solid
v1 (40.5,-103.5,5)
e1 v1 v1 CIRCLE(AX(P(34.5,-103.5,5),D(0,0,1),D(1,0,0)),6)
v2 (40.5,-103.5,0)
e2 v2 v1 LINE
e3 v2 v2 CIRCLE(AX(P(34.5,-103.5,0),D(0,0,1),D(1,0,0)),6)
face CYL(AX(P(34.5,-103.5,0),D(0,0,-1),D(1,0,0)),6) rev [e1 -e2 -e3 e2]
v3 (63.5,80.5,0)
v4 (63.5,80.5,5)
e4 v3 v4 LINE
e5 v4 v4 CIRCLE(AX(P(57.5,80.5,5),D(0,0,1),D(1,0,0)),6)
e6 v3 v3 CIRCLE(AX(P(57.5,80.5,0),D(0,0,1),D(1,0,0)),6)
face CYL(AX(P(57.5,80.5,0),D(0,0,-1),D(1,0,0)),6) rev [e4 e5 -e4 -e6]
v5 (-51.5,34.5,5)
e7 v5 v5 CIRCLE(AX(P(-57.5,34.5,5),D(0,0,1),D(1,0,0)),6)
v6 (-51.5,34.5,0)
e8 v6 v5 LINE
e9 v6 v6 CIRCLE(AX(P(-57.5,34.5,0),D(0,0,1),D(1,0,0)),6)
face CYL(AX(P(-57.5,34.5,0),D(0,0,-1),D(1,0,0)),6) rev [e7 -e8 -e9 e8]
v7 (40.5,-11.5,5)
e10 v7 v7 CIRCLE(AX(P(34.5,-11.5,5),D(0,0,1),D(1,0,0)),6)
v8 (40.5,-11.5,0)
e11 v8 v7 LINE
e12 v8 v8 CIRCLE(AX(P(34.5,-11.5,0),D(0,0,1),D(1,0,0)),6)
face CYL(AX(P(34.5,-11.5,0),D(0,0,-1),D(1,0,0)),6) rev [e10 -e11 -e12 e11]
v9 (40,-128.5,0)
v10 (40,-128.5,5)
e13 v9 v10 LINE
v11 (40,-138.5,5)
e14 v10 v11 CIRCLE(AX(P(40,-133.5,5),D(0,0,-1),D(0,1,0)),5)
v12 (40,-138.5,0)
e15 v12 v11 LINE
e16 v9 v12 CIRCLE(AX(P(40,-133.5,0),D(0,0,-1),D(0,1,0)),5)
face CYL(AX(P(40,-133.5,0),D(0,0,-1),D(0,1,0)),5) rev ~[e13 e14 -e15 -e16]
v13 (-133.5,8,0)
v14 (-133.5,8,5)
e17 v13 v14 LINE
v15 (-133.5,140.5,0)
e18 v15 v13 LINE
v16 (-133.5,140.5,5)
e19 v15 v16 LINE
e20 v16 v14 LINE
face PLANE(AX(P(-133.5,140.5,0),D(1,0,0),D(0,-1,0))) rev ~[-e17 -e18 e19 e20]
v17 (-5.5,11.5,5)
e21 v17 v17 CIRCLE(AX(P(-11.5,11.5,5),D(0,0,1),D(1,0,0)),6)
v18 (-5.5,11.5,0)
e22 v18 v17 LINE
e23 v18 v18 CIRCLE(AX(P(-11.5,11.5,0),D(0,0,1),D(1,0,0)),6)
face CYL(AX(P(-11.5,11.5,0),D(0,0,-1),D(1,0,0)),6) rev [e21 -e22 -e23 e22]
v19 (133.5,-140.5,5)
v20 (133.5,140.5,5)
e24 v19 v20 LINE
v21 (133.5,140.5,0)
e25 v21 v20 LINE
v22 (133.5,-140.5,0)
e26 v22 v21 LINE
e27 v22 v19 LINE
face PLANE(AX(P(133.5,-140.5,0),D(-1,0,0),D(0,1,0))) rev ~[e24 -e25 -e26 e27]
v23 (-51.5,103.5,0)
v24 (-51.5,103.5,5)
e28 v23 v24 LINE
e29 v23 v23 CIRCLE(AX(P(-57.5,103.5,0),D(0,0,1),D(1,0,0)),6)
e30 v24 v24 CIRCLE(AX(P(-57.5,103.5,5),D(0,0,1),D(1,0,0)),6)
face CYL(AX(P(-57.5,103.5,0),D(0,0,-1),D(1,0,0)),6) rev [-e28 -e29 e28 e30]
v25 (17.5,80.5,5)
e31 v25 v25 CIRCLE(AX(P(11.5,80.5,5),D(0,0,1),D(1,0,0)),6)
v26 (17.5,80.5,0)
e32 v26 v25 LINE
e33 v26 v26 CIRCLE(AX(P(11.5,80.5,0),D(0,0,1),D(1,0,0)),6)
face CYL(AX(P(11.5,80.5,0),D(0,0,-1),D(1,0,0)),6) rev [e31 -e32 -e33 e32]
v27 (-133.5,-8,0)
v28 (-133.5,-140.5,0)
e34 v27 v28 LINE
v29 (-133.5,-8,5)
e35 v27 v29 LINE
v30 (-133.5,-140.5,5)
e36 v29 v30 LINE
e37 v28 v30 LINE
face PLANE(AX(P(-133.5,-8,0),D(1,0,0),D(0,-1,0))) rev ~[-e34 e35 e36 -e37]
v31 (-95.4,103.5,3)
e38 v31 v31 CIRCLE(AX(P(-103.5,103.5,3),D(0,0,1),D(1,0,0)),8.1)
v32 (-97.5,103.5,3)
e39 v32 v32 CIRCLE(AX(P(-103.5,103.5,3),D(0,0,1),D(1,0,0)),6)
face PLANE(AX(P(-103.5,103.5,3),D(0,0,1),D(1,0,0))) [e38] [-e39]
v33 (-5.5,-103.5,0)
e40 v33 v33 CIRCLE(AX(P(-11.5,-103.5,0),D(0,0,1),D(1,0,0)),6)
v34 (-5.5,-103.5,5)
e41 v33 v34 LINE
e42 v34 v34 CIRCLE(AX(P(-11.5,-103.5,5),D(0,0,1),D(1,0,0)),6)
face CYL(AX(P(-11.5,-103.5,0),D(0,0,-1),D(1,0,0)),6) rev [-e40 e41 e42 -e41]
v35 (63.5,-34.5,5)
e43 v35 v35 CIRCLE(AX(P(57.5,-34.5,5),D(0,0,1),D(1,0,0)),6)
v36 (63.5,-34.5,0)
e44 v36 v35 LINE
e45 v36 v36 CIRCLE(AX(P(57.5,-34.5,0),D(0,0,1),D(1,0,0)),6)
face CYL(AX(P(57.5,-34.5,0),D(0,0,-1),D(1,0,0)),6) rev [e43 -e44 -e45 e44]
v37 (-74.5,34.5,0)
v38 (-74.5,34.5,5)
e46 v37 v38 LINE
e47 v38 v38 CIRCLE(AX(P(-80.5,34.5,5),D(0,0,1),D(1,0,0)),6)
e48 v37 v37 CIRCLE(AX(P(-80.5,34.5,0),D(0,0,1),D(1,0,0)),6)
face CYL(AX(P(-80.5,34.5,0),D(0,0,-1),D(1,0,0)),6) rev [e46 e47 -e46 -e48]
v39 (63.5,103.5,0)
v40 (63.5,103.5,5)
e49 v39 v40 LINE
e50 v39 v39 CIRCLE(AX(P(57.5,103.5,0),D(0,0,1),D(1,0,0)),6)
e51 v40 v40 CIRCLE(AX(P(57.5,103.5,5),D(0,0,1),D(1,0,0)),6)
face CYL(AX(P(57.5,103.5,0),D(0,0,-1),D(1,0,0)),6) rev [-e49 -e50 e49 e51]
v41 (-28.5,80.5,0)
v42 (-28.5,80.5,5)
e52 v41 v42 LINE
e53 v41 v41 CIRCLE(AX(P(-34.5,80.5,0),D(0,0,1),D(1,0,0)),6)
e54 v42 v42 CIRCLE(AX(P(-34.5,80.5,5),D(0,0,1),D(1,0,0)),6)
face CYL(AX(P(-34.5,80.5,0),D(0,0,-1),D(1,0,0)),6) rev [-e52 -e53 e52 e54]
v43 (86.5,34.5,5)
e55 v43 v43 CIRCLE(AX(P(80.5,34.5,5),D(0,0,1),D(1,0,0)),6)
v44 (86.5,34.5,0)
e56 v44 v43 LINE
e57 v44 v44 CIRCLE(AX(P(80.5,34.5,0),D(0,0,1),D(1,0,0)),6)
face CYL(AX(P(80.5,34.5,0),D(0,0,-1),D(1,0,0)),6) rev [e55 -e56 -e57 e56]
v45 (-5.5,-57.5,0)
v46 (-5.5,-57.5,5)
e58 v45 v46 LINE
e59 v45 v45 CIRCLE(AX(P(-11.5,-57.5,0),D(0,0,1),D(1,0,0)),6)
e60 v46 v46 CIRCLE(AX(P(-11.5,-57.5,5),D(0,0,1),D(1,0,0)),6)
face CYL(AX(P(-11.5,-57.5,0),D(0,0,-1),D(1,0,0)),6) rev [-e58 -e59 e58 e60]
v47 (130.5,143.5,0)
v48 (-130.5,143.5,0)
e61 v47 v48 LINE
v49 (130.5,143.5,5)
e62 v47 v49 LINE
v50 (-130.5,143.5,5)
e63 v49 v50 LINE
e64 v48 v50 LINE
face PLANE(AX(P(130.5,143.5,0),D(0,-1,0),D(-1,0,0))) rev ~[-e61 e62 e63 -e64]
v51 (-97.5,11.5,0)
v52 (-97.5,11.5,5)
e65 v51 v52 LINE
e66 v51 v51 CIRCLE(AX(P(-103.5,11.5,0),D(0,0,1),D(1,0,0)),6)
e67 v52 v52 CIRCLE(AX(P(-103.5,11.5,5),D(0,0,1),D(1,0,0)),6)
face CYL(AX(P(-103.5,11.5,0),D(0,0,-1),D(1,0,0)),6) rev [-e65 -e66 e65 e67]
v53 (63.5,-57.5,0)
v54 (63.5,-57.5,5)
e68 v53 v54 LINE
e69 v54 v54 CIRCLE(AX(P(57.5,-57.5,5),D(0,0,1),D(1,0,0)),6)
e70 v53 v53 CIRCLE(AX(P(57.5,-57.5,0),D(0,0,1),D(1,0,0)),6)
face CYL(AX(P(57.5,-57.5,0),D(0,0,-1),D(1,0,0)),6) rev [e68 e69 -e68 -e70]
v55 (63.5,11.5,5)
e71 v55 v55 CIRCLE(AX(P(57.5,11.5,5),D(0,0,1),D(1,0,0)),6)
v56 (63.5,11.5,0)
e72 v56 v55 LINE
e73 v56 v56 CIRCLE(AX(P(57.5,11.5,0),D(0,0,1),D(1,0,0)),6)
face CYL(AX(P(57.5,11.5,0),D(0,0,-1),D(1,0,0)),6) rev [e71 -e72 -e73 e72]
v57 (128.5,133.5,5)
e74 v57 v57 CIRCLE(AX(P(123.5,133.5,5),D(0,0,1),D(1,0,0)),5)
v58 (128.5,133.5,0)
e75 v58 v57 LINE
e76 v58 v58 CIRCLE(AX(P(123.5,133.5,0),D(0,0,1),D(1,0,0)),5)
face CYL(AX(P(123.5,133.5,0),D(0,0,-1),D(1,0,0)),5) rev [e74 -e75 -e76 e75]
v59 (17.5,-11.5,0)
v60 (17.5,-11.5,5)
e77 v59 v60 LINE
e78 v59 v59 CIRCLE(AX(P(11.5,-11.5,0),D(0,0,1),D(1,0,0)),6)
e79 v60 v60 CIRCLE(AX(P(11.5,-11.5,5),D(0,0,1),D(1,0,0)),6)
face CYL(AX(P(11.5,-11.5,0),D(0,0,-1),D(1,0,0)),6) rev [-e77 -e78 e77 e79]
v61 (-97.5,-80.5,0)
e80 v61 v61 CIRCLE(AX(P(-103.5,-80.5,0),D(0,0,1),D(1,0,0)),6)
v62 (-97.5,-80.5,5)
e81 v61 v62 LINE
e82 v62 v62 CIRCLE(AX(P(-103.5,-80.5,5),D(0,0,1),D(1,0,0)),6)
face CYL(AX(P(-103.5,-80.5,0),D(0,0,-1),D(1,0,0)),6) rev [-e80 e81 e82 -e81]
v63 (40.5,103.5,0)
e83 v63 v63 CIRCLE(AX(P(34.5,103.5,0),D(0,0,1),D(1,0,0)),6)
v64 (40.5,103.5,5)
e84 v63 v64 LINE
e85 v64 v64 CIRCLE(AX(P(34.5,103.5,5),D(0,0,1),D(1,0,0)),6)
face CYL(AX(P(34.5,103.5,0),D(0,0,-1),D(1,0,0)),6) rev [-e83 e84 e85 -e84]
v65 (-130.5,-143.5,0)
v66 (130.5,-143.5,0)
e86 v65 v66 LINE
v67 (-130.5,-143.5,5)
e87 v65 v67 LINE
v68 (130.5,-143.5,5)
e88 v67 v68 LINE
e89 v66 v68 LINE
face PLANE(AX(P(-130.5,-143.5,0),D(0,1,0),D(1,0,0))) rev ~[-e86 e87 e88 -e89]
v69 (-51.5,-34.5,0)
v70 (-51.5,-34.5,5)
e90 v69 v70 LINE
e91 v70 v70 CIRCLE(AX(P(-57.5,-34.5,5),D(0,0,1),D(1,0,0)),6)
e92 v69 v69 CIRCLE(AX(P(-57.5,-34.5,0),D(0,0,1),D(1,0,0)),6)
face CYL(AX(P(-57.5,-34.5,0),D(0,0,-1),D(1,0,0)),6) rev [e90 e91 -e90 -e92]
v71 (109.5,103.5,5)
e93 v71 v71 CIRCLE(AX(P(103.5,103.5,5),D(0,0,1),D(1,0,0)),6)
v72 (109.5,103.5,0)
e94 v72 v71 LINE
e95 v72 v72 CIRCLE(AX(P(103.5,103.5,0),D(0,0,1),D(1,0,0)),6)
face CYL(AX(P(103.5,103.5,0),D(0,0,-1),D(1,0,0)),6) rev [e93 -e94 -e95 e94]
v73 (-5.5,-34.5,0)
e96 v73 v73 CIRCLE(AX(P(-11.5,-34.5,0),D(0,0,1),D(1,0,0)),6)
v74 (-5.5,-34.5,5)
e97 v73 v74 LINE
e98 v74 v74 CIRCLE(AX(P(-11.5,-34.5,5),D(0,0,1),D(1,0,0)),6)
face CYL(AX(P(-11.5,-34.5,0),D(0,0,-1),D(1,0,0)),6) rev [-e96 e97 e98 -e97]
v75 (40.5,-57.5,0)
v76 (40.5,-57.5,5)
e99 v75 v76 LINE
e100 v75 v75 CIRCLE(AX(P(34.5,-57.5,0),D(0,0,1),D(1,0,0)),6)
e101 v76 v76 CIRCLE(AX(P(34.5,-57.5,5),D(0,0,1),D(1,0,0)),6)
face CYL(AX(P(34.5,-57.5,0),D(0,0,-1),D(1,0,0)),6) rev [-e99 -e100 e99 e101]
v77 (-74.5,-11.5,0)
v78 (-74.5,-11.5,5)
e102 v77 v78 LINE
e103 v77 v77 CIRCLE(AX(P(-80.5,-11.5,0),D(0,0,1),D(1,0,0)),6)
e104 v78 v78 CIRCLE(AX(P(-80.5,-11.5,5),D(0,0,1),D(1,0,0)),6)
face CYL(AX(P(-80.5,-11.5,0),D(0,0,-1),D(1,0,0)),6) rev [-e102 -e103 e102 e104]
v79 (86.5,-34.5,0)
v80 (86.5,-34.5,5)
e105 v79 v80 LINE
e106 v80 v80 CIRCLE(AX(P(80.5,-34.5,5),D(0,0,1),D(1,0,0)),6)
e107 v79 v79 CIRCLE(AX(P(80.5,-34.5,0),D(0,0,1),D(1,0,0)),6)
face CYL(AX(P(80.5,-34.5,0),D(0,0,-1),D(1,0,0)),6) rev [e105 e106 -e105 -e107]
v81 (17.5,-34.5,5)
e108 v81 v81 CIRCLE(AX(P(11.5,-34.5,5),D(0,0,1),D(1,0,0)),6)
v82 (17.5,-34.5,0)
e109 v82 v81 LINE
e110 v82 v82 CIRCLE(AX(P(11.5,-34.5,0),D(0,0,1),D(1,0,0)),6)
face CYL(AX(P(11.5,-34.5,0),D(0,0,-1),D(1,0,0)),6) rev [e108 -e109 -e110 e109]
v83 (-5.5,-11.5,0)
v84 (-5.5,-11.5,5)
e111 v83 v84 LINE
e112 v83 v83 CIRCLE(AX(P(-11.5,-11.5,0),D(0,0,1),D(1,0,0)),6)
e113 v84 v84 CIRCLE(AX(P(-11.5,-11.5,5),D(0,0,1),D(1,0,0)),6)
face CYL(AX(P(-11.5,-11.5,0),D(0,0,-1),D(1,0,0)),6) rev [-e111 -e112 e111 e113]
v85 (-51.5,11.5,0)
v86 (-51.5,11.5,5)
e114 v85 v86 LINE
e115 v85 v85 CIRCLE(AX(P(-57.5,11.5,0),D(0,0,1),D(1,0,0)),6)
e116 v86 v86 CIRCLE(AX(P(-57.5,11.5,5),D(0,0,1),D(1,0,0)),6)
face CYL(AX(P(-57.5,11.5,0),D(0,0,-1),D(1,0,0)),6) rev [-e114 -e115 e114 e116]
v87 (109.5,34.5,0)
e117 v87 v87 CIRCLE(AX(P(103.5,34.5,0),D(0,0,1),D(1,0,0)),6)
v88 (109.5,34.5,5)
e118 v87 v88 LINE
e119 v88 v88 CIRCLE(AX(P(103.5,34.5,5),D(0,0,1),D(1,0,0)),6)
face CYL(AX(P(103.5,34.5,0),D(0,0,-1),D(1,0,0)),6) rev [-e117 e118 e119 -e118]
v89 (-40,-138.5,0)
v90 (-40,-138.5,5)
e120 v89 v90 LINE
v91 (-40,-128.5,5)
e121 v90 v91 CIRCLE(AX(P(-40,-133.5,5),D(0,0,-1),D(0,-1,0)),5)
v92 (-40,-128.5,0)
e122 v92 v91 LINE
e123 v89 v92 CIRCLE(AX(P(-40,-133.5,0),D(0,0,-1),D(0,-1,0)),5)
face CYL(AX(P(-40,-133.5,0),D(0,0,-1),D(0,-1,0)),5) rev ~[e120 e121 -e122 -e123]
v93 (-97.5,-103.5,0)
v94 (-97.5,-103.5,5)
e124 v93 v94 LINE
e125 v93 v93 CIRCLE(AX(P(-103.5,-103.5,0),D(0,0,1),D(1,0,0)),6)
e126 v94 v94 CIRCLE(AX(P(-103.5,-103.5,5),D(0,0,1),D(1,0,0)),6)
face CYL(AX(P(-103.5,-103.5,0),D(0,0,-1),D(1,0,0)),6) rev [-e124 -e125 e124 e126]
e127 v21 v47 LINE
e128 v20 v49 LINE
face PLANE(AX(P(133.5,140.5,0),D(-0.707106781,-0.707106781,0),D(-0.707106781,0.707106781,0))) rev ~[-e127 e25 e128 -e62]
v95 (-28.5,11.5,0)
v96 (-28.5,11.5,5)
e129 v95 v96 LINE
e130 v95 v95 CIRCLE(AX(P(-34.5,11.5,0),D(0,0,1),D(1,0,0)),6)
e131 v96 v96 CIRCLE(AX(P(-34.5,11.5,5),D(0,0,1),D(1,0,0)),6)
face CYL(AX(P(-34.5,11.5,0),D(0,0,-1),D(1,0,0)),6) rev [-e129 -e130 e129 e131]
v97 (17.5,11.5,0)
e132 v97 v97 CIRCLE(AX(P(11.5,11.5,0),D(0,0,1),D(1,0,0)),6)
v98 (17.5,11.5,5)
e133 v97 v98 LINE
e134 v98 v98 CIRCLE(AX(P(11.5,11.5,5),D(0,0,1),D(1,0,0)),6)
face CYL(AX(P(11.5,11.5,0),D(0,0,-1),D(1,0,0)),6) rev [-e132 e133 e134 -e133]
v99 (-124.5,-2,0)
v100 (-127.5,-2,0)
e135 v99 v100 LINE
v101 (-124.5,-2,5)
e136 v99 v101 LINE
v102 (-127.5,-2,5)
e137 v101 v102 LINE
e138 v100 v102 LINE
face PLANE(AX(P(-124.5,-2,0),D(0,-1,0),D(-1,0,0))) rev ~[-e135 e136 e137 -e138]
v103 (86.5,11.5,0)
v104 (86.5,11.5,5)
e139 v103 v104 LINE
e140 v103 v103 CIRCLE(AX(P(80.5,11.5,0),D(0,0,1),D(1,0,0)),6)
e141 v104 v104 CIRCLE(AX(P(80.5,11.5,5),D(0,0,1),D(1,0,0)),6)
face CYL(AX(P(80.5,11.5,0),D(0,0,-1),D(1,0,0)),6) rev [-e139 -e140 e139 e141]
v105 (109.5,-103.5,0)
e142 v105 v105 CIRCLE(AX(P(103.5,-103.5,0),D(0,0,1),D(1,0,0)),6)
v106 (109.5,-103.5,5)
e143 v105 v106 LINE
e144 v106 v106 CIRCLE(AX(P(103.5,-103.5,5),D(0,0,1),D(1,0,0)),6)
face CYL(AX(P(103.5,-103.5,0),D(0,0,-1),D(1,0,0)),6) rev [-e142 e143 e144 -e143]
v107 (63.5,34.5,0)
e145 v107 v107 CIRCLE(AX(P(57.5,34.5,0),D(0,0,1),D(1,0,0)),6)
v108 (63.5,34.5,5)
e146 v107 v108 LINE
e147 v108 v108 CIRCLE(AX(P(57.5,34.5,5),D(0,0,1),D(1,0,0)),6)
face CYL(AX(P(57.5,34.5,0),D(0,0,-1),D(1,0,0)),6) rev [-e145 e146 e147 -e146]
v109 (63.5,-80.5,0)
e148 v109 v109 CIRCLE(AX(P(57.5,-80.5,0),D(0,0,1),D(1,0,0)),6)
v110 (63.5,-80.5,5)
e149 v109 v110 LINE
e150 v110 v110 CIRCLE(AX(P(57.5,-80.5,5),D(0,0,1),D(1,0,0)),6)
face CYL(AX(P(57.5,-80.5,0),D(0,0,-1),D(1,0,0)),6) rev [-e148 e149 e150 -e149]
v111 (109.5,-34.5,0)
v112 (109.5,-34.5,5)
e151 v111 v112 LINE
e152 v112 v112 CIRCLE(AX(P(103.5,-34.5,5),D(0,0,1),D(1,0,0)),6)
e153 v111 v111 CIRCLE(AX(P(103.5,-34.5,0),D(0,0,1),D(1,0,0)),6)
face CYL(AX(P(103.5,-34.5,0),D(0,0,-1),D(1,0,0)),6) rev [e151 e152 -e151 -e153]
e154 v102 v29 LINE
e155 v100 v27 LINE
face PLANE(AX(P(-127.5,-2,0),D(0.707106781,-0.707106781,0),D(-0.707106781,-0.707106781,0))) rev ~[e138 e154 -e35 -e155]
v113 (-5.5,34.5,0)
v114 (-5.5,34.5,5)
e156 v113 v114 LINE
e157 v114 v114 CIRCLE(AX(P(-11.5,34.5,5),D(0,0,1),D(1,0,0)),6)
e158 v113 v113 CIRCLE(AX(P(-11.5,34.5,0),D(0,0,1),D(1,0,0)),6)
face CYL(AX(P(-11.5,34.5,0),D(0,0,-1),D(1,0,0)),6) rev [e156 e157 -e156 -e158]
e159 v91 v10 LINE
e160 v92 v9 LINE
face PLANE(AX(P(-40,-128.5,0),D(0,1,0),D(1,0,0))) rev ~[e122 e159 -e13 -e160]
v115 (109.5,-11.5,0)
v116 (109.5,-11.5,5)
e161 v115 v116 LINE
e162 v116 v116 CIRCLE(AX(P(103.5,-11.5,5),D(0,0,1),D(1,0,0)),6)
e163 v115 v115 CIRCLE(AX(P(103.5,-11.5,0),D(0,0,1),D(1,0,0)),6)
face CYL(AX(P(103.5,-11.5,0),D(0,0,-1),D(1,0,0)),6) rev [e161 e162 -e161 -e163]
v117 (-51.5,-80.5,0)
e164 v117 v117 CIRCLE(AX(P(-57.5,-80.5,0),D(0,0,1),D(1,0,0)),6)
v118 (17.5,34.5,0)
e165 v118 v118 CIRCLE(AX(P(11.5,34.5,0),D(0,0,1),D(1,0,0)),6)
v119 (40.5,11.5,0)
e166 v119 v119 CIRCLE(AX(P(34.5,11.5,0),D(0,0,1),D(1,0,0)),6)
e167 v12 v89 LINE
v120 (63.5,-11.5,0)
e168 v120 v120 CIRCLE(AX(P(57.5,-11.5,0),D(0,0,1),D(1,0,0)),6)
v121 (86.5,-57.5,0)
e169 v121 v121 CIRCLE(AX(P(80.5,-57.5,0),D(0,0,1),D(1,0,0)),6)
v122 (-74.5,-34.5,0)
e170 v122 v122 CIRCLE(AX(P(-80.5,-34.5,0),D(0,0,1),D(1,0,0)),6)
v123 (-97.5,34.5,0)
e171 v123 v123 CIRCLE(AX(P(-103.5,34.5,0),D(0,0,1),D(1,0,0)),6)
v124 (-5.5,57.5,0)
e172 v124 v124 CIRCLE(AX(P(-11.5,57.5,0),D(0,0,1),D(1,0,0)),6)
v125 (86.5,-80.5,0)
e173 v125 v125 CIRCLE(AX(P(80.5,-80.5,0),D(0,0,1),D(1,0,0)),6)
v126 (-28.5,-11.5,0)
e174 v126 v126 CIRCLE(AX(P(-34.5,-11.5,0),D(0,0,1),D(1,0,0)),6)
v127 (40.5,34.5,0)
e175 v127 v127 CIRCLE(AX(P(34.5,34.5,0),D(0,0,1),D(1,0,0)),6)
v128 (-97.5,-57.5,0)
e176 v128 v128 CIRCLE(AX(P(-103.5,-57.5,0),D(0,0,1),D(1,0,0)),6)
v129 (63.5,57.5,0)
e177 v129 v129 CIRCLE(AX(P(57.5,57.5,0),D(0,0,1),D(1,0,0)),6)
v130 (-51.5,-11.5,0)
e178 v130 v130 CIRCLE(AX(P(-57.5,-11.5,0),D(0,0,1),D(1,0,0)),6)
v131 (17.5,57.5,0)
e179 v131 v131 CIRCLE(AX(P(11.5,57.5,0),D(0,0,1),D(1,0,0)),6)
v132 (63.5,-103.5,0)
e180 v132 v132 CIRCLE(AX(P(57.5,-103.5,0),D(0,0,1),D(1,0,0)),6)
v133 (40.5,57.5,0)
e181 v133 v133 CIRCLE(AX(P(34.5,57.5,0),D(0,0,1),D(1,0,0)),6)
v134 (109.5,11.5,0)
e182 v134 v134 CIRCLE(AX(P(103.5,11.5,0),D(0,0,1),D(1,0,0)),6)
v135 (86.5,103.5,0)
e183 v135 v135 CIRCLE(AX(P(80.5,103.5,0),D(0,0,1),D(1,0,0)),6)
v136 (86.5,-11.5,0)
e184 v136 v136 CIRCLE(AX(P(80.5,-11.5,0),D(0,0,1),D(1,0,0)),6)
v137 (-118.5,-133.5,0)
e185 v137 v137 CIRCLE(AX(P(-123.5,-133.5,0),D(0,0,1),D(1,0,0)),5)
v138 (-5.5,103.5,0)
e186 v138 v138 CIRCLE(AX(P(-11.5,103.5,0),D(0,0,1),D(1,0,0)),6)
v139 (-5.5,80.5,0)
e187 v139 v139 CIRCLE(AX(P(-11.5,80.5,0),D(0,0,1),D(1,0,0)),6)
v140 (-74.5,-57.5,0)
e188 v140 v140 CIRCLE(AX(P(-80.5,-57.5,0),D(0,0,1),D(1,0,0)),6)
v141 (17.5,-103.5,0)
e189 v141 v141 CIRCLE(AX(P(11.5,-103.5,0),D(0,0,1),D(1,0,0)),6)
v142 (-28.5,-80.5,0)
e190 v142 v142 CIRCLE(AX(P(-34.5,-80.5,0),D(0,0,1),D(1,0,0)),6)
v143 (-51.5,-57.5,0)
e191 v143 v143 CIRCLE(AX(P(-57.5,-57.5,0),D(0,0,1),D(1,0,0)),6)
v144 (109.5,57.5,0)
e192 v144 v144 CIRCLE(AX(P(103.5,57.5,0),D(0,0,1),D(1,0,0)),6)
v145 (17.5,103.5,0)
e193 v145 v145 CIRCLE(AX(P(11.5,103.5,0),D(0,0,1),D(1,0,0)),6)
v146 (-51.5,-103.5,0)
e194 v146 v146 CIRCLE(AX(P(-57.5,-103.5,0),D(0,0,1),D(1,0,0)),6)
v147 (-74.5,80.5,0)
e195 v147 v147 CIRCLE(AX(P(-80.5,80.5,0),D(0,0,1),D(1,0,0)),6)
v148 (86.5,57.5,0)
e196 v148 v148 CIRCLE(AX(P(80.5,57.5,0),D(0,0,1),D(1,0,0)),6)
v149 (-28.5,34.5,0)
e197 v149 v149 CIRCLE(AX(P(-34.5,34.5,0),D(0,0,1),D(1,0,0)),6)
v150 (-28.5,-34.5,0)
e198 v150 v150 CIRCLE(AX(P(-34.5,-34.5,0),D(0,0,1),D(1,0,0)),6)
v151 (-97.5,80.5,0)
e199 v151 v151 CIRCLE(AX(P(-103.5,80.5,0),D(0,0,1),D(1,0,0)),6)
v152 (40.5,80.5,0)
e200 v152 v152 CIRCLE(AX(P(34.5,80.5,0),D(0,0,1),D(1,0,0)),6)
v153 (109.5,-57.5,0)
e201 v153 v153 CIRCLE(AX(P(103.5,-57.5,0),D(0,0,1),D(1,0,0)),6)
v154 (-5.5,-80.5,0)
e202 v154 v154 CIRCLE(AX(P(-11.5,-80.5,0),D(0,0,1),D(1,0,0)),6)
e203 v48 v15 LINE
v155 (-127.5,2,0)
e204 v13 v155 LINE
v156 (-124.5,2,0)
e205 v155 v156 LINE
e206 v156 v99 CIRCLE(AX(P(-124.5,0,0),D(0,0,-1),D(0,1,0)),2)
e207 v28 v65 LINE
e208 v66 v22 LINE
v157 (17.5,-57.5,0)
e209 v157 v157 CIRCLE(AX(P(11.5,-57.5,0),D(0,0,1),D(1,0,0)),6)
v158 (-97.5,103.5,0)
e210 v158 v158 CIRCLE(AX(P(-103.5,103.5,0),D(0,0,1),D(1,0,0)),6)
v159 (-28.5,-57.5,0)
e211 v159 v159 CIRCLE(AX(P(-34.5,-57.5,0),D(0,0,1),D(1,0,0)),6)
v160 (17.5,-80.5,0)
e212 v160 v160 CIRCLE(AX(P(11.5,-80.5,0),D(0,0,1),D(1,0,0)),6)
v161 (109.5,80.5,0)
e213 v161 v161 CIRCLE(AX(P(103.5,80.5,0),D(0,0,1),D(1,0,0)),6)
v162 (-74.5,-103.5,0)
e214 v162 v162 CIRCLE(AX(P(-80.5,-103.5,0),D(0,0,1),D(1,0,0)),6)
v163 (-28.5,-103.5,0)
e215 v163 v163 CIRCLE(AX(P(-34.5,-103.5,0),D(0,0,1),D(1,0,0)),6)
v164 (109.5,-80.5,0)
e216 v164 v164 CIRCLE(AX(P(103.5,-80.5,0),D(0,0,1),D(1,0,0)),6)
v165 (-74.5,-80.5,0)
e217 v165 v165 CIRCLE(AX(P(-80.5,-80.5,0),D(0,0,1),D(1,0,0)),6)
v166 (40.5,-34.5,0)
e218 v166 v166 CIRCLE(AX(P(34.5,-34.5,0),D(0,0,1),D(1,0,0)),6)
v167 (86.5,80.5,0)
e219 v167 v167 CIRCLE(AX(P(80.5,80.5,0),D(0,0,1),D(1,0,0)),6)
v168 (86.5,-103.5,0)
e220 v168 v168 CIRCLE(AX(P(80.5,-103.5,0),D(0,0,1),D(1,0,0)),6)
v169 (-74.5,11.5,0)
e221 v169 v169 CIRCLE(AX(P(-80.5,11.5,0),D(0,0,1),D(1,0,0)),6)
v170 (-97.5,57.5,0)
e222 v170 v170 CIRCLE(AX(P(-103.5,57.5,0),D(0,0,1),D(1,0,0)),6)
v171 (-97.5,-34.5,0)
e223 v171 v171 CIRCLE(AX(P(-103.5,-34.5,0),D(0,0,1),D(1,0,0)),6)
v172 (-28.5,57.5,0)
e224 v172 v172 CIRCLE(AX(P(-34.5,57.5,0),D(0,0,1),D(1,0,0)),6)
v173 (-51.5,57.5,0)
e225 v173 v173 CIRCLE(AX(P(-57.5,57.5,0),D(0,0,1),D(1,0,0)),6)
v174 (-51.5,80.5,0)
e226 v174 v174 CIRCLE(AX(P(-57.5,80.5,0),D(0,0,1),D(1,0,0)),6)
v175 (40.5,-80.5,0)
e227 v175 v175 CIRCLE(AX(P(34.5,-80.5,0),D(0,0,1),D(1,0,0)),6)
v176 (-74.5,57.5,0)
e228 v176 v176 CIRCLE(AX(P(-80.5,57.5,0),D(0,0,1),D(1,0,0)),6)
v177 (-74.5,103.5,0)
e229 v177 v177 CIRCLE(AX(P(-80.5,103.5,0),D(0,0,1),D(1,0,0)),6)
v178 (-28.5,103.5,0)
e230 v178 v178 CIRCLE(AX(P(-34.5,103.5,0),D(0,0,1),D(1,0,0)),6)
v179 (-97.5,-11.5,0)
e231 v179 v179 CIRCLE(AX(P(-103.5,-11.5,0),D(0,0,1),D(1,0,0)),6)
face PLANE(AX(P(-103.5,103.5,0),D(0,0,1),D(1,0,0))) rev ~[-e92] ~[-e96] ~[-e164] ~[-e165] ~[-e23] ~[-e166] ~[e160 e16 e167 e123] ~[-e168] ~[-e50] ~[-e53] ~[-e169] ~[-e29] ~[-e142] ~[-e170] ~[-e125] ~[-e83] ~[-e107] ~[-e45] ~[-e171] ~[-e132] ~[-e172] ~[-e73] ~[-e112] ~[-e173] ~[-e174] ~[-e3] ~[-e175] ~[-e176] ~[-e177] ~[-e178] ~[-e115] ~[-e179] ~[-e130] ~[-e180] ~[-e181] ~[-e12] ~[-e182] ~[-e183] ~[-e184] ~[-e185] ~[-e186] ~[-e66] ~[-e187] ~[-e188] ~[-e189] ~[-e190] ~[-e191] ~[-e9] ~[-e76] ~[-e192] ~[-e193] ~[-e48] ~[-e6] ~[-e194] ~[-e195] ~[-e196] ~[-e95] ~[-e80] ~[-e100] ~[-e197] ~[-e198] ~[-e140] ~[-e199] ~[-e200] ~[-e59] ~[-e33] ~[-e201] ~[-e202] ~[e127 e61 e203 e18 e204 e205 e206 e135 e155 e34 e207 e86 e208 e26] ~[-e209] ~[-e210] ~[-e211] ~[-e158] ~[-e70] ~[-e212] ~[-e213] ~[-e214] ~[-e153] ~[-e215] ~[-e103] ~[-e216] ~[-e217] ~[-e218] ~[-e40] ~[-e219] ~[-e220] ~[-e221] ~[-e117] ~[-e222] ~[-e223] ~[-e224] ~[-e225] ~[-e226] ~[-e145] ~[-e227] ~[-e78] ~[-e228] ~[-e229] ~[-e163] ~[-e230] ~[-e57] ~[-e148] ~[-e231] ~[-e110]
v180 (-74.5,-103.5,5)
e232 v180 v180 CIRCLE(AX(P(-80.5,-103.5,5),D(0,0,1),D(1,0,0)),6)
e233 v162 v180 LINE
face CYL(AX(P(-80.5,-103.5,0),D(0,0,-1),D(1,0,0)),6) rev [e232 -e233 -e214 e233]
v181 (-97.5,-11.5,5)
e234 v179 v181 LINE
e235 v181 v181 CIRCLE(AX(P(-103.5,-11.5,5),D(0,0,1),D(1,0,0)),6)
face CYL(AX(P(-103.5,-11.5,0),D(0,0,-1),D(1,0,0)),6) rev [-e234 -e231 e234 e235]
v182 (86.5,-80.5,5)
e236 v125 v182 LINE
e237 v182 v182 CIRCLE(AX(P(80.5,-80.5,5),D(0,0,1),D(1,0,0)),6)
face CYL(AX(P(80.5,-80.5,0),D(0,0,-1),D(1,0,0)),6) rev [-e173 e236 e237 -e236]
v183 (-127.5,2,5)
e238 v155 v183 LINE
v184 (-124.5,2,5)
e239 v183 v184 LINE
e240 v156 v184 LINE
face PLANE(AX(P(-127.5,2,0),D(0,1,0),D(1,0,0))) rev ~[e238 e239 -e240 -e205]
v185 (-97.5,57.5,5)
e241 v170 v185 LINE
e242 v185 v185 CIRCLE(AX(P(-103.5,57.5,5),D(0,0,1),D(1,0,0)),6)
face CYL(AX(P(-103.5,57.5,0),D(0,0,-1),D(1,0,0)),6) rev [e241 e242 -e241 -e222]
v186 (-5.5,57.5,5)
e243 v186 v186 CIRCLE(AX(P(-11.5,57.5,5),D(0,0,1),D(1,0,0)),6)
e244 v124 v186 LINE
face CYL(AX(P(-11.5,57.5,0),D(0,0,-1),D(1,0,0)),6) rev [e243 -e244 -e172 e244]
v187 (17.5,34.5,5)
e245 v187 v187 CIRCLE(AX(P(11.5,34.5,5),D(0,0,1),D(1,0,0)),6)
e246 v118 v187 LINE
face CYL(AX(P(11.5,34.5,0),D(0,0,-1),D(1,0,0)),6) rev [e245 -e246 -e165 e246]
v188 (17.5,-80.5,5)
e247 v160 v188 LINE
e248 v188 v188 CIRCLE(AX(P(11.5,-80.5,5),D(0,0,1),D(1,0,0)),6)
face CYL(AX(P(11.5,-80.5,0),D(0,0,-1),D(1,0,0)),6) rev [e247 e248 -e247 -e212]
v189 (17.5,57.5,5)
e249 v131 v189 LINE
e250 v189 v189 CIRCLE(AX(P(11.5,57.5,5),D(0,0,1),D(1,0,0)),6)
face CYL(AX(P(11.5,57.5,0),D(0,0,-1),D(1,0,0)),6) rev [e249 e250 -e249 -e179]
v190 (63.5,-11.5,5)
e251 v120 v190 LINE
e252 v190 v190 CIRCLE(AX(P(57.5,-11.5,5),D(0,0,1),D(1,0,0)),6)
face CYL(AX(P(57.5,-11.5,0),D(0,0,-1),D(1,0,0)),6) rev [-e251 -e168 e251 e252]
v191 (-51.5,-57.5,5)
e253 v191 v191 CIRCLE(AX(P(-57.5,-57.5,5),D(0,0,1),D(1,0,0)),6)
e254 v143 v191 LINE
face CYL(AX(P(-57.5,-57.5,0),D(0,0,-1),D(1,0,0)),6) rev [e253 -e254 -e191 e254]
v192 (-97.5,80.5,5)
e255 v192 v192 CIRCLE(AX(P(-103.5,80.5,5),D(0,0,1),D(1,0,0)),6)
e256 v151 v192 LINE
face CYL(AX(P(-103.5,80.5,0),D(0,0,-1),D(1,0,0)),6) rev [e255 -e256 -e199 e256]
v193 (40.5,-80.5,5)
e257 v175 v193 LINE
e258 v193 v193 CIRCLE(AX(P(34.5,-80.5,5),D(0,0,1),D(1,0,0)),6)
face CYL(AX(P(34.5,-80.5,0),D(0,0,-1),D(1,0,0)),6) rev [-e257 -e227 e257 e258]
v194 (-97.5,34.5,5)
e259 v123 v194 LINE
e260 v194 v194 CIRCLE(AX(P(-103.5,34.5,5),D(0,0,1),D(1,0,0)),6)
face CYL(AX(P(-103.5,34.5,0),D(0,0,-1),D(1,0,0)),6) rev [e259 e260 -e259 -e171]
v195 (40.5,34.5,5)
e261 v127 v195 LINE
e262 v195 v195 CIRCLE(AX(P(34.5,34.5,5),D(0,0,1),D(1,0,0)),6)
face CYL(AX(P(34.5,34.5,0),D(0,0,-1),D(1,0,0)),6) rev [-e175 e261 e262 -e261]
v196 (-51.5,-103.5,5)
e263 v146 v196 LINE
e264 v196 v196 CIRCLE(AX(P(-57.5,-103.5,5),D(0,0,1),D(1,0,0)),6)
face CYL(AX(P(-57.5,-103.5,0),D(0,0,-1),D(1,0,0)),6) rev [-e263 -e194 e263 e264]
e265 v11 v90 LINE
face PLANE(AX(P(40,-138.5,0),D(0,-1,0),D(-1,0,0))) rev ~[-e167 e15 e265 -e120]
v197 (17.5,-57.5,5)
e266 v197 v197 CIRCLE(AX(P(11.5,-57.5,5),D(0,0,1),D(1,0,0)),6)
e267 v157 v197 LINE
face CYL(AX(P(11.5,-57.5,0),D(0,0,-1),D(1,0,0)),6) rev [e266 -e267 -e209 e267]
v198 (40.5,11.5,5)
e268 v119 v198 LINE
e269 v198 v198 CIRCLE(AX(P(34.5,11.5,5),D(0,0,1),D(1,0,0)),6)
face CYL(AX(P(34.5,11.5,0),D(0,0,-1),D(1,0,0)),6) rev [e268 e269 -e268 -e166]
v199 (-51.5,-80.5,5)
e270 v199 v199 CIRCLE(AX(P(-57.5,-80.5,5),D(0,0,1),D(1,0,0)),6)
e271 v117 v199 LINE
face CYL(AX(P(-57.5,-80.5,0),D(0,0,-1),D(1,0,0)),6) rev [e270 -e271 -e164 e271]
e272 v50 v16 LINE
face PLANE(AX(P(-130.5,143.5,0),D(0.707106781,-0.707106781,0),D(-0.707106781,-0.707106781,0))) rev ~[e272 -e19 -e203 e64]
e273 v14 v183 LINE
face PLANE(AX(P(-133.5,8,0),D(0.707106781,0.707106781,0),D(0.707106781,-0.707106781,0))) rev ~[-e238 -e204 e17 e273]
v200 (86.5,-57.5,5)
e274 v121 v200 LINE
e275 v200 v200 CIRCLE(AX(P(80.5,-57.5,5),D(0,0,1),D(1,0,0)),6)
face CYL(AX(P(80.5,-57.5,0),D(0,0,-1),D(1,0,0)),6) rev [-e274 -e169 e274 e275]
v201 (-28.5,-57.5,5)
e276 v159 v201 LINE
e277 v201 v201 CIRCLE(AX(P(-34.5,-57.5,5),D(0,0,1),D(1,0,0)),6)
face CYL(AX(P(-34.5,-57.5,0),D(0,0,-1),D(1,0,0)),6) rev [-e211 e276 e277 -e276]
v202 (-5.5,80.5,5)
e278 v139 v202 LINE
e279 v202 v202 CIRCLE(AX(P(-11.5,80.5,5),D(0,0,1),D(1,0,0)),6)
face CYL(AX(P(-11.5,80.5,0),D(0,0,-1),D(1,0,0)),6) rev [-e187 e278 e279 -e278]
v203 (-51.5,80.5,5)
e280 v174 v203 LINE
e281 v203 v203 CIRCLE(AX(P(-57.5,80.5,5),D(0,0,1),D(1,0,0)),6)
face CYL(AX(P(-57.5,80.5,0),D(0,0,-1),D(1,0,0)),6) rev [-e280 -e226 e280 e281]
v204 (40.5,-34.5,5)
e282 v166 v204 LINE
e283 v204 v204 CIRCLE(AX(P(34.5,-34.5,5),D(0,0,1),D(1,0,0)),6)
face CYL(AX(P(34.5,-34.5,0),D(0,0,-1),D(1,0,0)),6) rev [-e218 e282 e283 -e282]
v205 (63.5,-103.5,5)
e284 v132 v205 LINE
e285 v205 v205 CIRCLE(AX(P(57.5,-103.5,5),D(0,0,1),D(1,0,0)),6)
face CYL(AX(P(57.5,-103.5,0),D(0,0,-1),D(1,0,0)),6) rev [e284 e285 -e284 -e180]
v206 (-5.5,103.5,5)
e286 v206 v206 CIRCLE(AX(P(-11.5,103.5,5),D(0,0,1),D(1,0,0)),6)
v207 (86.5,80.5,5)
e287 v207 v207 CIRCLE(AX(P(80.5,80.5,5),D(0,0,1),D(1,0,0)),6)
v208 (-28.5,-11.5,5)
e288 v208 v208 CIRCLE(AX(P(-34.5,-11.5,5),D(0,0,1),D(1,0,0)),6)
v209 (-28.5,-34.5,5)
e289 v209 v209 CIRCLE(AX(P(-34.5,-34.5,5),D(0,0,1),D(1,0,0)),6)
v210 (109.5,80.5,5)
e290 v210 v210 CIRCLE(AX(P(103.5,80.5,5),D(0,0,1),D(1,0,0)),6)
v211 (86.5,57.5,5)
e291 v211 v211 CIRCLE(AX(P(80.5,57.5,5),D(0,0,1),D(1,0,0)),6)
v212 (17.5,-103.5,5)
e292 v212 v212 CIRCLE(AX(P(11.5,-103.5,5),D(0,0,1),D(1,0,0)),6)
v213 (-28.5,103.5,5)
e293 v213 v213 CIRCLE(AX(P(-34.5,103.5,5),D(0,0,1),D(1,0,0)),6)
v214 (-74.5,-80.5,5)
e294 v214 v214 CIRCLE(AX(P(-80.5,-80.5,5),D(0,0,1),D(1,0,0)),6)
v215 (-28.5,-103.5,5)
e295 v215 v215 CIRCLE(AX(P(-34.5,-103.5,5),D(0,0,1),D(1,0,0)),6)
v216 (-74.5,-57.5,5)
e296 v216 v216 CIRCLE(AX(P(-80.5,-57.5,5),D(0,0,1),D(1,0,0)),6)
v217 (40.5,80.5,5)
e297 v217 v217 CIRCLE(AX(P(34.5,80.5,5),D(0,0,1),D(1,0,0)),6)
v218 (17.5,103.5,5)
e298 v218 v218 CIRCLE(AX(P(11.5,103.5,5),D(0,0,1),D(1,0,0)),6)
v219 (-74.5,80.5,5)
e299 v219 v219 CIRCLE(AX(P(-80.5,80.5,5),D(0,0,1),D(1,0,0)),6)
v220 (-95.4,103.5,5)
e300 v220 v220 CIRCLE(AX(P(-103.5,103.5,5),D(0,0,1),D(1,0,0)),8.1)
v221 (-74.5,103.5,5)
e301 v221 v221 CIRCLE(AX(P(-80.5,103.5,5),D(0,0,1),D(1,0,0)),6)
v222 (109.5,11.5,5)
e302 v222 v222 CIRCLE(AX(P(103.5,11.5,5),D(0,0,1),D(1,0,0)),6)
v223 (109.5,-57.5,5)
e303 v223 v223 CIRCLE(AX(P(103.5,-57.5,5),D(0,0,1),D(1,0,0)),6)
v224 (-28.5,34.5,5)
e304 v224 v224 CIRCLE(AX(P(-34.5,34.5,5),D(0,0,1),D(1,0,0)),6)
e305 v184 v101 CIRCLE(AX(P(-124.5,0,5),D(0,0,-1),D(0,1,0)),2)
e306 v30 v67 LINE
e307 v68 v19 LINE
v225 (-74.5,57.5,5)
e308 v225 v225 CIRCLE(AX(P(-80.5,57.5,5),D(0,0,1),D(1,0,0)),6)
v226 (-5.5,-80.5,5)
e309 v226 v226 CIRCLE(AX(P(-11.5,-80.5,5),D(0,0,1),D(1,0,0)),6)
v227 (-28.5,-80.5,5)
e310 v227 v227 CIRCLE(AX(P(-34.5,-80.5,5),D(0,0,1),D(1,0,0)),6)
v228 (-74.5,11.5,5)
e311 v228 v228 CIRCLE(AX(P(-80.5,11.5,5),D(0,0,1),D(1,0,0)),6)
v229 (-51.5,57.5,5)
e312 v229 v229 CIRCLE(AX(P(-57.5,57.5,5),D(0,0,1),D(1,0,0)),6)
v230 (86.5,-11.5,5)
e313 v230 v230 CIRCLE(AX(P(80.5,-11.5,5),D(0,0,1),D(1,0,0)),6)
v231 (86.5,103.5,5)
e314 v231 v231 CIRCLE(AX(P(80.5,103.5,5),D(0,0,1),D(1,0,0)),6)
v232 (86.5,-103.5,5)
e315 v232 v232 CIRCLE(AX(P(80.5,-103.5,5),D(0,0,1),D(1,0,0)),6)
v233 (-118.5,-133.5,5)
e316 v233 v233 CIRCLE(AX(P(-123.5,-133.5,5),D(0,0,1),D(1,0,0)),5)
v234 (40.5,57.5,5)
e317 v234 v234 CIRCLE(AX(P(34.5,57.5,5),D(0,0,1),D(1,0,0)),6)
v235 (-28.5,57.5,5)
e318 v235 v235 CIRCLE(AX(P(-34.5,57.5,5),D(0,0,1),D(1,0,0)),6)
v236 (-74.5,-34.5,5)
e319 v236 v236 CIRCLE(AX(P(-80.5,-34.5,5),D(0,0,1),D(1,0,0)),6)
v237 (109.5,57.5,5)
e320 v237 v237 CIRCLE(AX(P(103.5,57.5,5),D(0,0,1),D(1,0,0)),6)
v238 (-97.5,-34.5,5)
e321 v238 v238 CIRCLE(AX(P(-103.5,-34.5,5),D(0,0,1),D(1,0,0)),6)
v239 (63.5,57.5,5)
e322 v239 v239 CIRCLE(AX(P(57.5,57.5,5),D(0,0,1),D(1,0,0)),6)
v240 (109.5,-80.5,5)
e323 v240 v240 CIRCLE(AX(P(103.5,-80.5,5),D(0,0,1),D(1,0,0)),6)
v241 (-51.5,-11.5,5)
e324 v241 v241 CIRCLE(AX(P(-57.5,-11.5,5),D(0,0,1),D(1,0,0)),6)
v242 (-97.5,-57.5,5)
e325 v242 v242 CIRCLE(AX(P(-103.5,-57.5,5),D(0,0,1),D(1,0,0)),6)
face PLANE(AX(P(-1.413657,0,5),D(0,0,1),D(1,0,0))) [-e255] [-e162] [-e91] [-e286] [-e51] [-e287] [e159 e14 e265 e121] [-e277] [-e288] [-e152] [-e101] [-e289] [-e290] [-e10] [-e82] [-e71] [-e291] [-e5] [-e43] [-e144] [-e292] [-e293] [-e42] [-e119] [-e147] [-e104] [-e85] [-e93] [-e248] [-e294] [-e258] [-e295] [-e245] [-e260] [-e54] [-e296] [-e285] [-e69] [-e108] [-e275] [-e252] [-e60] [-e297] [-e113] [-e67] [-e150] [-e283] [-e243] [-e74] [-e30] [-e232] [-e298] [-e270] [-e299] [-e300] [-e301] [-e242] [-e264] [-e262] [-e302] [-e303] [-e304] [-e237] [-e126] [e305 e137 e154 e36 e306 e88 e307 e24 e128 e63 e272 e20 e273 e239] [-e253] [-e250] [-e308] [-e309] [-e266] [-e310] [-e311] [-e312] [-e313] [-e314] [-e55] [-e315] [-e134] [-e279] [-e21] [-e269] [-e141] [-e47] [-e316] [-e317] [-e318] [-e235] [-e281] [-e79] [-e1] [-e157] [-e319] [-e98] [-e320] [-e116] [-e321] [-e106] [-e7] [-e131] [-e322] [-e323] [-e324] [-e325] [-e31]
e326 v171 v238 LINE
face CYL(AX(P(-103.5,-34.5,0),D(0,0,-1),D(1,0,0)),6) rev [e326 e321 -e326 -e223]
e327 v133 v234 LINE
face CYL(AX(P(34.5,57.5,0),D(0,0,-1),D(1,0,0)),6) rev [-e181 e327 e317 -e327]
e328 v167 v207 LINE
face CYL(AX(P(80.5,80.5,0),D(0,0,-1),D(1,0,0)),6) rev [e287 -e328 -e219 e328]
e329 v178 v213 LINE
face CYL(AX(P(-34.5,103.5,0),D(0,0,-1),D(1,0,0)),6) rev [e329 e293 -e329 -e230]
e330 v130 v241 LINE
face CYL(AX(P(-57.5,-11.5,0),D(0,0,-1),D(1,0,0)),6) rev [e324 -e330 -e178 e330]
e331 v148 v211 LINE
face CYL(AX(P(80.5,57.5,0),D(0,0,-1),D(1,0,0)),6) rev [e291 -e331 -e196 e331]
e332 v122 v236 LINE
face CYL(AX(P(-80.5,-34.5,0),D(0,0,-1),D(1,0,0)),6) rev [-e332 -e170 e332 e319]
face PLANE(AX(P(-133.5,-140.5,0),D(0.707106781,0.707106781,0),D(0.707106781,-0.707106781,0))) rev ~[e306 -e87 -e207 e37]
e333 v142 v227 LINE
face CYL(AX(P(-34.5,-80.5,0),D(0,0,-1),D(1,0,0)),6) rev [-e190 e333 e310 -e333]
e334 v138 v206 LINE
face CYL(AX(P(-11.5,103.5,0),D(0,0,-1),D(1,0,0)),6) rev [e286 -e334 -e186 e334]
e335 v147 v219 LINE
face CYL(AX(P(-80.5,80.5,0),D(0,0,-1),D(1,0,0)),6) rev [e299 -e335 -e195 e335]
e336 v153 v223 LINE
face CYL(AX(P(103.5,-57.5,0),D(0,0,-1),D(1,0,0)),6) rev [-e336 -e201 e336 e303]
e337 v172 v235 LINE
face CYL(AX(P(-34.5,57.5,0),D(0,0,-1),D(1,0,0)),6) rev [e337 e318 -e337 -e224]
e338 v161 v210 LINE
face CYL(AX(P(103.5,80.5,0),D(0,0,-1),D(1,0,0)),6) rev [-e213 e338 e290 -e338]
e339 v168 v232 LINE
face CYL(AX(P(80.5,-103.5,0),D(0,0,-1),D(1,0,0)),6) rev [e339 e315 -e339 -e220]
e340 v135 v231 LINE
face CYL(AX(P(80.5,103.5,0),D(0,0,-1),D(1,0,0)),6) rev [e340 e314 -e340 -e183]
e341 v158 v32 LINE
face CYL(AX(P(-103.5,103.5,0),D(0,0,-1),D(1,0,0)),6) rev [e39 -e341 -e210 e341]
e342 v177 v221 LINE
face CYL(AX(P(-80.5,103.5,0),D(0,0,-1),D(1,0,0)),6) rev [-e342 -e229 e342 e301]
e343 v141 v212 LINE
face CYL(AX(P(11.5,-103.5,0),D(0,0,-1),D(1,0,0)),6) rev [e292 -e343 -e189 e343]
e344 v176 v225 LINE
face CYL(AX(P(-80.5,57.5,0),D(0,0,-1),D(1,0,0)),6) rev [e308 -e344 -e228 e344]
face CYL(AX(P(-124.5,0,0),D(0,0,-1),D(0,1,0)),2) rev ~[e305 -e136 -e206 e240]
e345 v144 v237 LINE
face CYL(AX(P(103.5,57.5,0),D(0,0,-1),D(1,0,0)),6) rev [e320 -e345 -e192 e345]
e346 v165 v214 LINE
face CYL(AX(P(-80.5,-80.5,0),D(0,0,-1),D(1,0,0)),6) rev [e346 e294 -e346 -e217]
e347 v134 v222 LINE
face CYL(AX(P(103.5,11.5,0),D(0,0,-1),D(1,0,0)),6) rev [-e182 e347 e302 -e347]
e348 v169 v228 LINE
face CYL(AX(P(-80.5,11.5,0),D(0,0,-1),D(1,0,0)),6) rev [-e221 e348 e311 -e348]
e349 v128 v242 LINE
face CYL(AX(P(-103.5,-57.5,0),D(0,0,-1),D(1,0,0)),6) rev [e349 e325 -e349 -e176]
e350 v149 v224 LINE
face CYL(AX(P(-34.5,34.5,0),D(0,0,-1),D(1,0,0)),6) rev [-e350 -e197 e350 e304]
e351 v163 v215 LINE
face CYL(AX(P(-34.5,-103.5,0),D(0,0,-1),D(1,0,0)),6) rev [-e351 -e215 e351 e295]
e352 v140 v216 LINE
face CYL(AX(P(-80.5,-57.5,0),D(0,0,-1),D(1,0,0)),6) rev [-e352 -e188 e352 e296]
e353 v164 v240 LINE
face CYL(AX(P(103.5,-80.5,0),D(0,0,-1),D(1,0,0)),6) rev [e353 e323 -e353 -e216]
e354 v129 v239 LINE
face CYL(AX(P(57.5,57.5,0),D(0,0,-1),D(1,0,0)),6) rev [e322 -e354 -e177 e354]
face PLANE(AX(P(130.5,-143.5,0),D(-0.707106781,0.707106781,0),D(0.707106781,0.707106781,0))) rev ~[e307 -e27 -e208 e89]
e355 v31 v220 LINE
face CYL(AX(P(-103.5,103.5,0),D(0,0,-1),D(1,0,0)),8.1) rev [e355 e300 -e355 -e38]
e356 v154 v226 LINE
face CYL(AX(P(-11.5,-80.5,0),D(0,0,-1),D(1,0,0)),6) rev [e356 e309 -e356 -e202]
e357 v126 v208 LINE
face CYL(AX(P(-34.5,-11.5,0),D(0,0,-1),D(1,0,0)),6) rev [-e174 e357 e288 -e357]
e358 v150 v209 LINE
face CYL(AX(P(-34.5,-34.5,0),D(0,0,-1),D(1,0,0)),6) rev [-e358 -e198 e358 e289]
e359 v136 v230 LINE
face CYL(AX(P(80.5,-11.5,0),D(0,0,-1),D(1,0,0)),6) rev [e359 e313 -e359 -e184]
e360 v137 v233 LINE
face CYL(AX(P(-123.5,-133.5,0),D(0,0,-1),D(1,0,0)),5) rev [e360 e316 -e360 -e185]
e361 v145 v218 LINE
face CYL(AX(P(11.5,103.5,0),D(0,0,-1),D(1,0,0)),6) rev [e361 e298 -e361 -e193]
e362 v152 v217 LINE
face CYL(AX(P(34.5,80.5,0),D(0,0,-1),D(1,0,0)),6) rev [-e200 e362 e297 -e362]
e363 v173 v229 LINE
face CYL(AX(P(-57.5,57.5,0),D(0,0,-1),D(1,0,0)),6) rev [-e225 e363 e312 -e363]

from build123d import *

# Parameters (mm, degrees)
F0_R     = 5
F0_R_2   = 6
F0_R_3   = 8.1
F1_DEPTH = 5
F2_DEPTH = 3


with BuildPart() as f1:
    # F0 (on Top) → F1 (new body)
    with BuildSketch(Plane.XY):
        with BuildLine():
            Line((133.5, 140.5), (130.5, 143.5))
            Line((130.5, 143.5), (-130.5, 143.5))
            Line((-130.5, 143.5), (-133.5, 140.5))
            Line((-133.5, 140.5), (-133.5, 8))
            Line((-133.5, 8), (-127.5, 2))
            Line((-127.5, 2), (-124.5, 2))
            ThreePointArc((-124.5, 2), (-122.5, 0), (-124.5, -2))
            Line((-124.5, -2), (-127.5, -2))
            Line((-127.5, -2), (-133.5, -8))
            Line((-133.5, -8), (-133.5, -140.5))
            Line((-133.5, -140.5), (-130.5, -143.5))
            Line((-130.5, -143.5), (130.5, -143.5))
            Line((130.5, -143.5), (133.5, -140.5))
            Line((133.5, -140.5), (133.5, 140.5))
        make_face()
        with Locations((-123.5, -133.5)):
            Circle(F0_R, mode=Mode.SUBTRACT)
        with Locations((-103.5, -103.5)):
            Circle(F0_R_2, mode=Mode.SUBTRACT)
        with Locations((-103.5, -80.5)):
            Circle(F0_R_2, mode=Mode.SUBTRACT)
        with Locations((-80.5, -103.5)):
            Circle(F0_R_2, mode=Mode.SUBTRACT)
        with Locations((-80.5, -80.5)):
            Circle(F0_R_2, mode=Mode.SUBTRACT)
        with Locations((-57.5, -103.5)):
            Circle(F0_R_2, mode=Mode.SUBTRACT)
        with Locations((-34.5, -103.5)):
            Circle(F0_R_2, mode=Mode.SUBTRACT)
        with Locations((-57.5, -80.5)):
            Circle(F0_R_2, mode=Mode.SUBTRACT)
        with Locations((-34.5, -80.5)):
            Circle(F0_R_2, mode=Mode.SUBTRACT)
        with Locations((-11.5, -103.5)):
            Circle(F0_R_2, mode=Mode.SUBTRACT)
        with Locations((-11.5, -80.5)):
            Circle(F0_R_2, mode=Mode.SUBTRACT)
        with Locations((-103.5, -57.5)):
            Circle(F0_R_2, mode=Mode.SUBTRACT)
        with Locations((-80.5, -57.5)):
            Circle(F0_R_2, mode=Mode.SUBTRACT)
        with Locations((-103.5, -34.5)):
            Circle(F0_R_2, mode=Mode.SUBTRACT)
        with Locations((-103.5, -11.5)):
            Circle(F0_R_2, mode=Mode.SUBTRACT)
        with Locations((-80.5, -34.5)):
            Circle(F0_R_2, mode=Mode.SUBTRACT)
        with Locations((-80.5, -11.5)):
            Circle(F0_R_2, mode=Mode.SUBTRACT)
        with Locations((-57.5, -57.5)):
            Circle(F0_R_2, mode=Mode.SUBTRACT)
        with Locations((-34.5, -57.5)):
            Circle(F0_R_2, mode=Mode.SUBTRACT)
        with Locations((-11.5, -57.5)):
            Circle(F0_R_2, mode=Mode.SUBTRACT)
        with Locations((-57.5, -34.5)):
            Circle(F0_R_2, mode=Mode.SUBTRACT)
        with Locations((-34.5, -34.5)):
            Circle(F0_R_2, mode=Mode.SUBTRACT)
        with Locations((-57.5, -11.5)):
            Circle(F0_R_2, mode=Mode.SUBTRACT)
        with Locations((-34.5, -11.5)):
            Circle(F0_R_2, mode=Mode.SUBTRACT)
        with Locations((-11.5, -34.5)):
            Circle(F0_R_2, mode=Mode.SUBTRACT)
        with Locations((-11.5, -11.5)):
            Circle(F0_R_2, mode=Mode.SUBTRACT)
        with BuildLine():
            Line((40, -138.5), (-40, -138.5))
            ThreePointArc((-40, -138.5), (-45, -133.5), (-40, -128.5))
            Line((-40, -128.5), (40, -128.5))
            ThreePointArc((40, -128.5), (45, -133.5), (40, -138.5))
        make_face(mode=Mode.SUBTRACT)
        with Locations((11.5, -103.5)):
            Circle(F0_R_2, mode=Mode.SUBTRACT)
        with Locations((11.5, -80.5)):
            Circle(F0_R_2, mode=Mode.SUBTRACT)
        with Locations((34.5, -103.5)):
            Circle(F0_R_2, mode=Mode.SUBTRACT)
        with Locations((57.5, -103.5)):
            Circle(F0_R_2, mode=Mode.SUBTRACT)
        with Locations((34.5, -80.5)):
            Circle(F0_R_2, mode=Mode.SUBTRACT)
        with Locations((57.5, -80.5)):
            Circle(F0_R_2, mode=Mode.SUBTRACT)
        with Locations((80.5, -103.5)):
            Circle(F0_R_2, mode=Mode.SUBTRACT)
        with Locations((80.5, -80.5)):
            Circle(F0_R_2, mode=Mode.SUBTRACT)
        with Locations((103.5, -103.5)):
            Circle(F0_R_2, mode=Mode.SUBTRACT)
        with Locations((103.5, -80.5)):
            Circle(F0_R_2, mode=Mode.SUBTRACT)
        with Locations((11.5, -57.5)):
            Circle(F0_R_2, mode=Mode.SUBTRACT)
        with Locations((34.5, -57.5)):
            Circle(F0_R_2, mode=Mode.SUBTRACT)
        with Locations((57.5, -57.5)):
            Circle(F0_R_2, mode=Mode.SUBTRACT)
        with Locations((11.5, -34.5)):
            Circle(F0_R_2, mode=Mode.SUBTRACT)
        with Locations((11.5, -11.5)):
            Circle(F0_R_2, mode=Mode.SUBTRACT)
        with Locations((34.5, -34.5)):
            Circle(F0_R_2, mode=Mode.SUBTRACT)
        with Locations((57.5, -34.5)):
            Circle(F0_R_2, mode=Mode.SUBTRACT)
        with Locations((34.5, -11.5)):
            Circle(F0_R_2, mode=Mode.SUBTRACT)
        with Locations((57.5, -11.5)):
            Circle(F0_R_2, mode=Mode.SUBTRACT)
        with Locations((80.5, -57.5)):
            Circle(F0_R_2, mode=Mode.SUBTRACT)
        with Locations((103.5, -57.5)):
            Circle(F0_R_2, mode=Mode.SUBTRACT)
        with Locations((80.5, -34.5)):
            Circle(F0_R_2, mode=Mode.SUBTRACT)
        with Locations((80.5, -11.5)):
            Circle(F0_R_2, mode=Mode.SUBTRACT)
        with Locations((103.5, -34.5)):
            Circle(F0_R_2, mode=Mode.SUBTRACT)
        with Locations((103.5, -11.5)):
            Circle(F0_R_2, mode=Mode.SUBTRACT)
        with Locations((-103.5, 11.5)):
            Circle(F0_R_2, mode=Mode.SUBTRACT)
        with Locations((-103.5, 34.5)):
            Circle(F0_R_2, mode=Mode.SUBTRACT)
        with Locations((-80.5, 11.5)):
            Circle(F0_R_2, mode=Mode.SUBTRACT)
        with Locations((-80.5, 34.5)):
            Circle(F0_R_2, mode=Mode.SUBTRACT)
        with Locations((-103.5, 57.5)):
            Circle(F0_R_2, mode=Mode.SUBTRACT)
        with Locations((-80.5, 57.5)):
            Circle(F0_R_2, mode=Mode.SUBTRACT)
        with Locations((-57.5, 11.5)):
            Circle(F0_R_2, mode=Mode.SUBTRACT)
        with Locations((-34.5, 11.5)):
            Circle(F0_R_2, mode=Mode.SUBTRACT)
        with Locations((-57.5, 34.5)):
            Circle(F0_R_2, mode=Mode.SUBTRACT)
        with Locations((-34.5, 34.5)):
            Circle(F0_R_2, mode=Mode.SUBTRACT)
        with Locations((-11.5, 11.5)):
            Circle(F0_R_2, mode=Mode.SUBTRACT)
        with Locations((-11.5, 34.5)):
            Circle(F0_R_2, mode=Mode.SUBTRACT)
        with Locations((-57.5, 57.5)):
            Circle(F0_R_2, mode=Mode.SUBTRACT)
        with Locations((-34.5, 57.5)):
            Circle(F0_R_2, mode=Mode.SUBTRACT)
        with Locations((-11.5, 57.5)):
            Circle(F0_R_2, mode=Mode.SUBTRACT)
        with Locations((-103.5, 80.5)):
            Circle(F0_R_2, mode=Mode.SUBTRACT)
        with Locations((-103.5, 103.5)):
            Circle(F0_R_3, mode=Mode.SUBTRACT)
        with Locations((-80.5, 80.5)):
            Circle(F0_R_2, mode=Mode.SUBTRACT)
        with Locations((-80.5, 103.5)):
            Circle(F0_R_2, mode=Mode.SUBTRACT)
        with Locations((-57.5, 80.5)):
            Circle(F0_R_2, mode=Mode.SUBTRACT)
        with Locations((-34.5, 80.5)):
            Circle(F0_R_2, mode=Mode.SUBTRACT)
        with Locations((-57.5, 103.5)):
            Circle(F0_R_2, mode=Mode.SUBTRACT)
        with Locations((-34.5, 103.5)):
            Circle(F0_R_2, mode=Mode.SUBTRACT)
        with Locations((-11.5, 80.5)):
            Circle(F0_R_2, mode=Mode.SUBTRACT)
        with Locations((-11.5, 103.5)):
            Circle(F0_R_2, mode=Mode.SUBTRACT)
        with Locations((11.5, 11.5)):
            Circle(F0_R_2, mode=Mode.SUBTRACT)
        with Locations((11.5, 34.5)):
            Circle(F0_R_2, mode=Mode.SUBTRACT)
        with Locations((34.5, 11.5)):
            Circle(F0_R_2, mode=Mode.SUBTRACT)
        with Locations((57.5, 11.5)):
            Circle(F0_R_2, mode=Mode.SUBTRACT)
        with Locations((34.5, 34.5)):
            Circle(F0_R_2, mode=Mode.SUBTRACT)
        with Locations((57.5, 34.5)):
            Circle(F0_R_2, mode=Mode.SUBTRACT)
        with Locations((11.5, 57.5)):
            Circle(F0_R_2, mode=Mode.SUBTRACT)
        with Locations((34.5, 57.5)):
            Circle(F0_R_2, mode=Mode.SUBTRACT)
        with Locations((57.5, 57.5)):
            Circle(F0_R_2, mode=Mode.SUBTRACT)
        with Locations((80.5, 11.5)):
            Circle(F0_R_2, mode=Mode.SUBTRACT)
        with Locations((80.5, 34.5)):
            Circle(F0_R_2, mode=Mode.SUBTRACT)
        with Locations((103.5, 11.5)):
            Circle(F0_R_2, mode=Mode.SUBTRACT)
        with Locations((103.5, 34.5)):
            Circle(F0_R_2, mode=Mode.SUBTRACT)
        with Locations((80.5, 57.5)):
            Circle(F0_R_2, mode=Mode.SUBTRACT)
        with Locations((103.5, 57.5)):
            Circle(F0_R_2, mode=Mode.SUBTRACT)
        with Locations((11.5, 80.5)):
            Circle(F0_R_2, mode=Mode.SUBTRACT)
        with Locations((11.5, 103.5)):
            Circle(F0_R_2, mode=Mode.SUBTRACT)
        with Locations((34.5, 80.5)):
            Circle(F0_R_2, mode=Mode.SUBTRACT)
        with Locations((57.5, 80.5)):
            Circle(F0_R_2, mode=Mode.SUBTRACT)
        with Locations((34.5, 103.5)):
            Circle(F0_R_2, mode=Mode.SUBTRACT)
        with Locations((57.5, 103.5)):
            Circle(F0_R_2, mode=Mode.SUBTRACT)
        with Locations((80.5, 80.5)):
            Circle(F0_R_2, mode=Mode.SUBTRACT)
        with Locations((80.5, 103.5)):
            Circle(F0_R_2, mode=Mode.SUBTRACT)
        with Locations((103.5, 80.5)):
            Circle(F0_R_2, mode=Mode.SUBTRACT)
        with Locations((103.5, 103.5)):
            Circle(F0_R_2, mode=Mode.SUBTRACT)
        with Locations((123.5, 133.5)):
            Circle(F0_R, mode=Mode.SUBTRACT)
    extrude(amount=F1_DEPTH)

    # F0 (on Top) → F2 (join)
    with BuildSketch(Plane.XY):
        with Locations((-103.5, 103.5)):
            Circle(F0_R_3)
        with Locations((-103.5, 103.5)):
            Circle(F0_R_2, mode=Mode.SUBTRACT)
    extrude(amount=F2_DEPTH)


solid = f1.part
